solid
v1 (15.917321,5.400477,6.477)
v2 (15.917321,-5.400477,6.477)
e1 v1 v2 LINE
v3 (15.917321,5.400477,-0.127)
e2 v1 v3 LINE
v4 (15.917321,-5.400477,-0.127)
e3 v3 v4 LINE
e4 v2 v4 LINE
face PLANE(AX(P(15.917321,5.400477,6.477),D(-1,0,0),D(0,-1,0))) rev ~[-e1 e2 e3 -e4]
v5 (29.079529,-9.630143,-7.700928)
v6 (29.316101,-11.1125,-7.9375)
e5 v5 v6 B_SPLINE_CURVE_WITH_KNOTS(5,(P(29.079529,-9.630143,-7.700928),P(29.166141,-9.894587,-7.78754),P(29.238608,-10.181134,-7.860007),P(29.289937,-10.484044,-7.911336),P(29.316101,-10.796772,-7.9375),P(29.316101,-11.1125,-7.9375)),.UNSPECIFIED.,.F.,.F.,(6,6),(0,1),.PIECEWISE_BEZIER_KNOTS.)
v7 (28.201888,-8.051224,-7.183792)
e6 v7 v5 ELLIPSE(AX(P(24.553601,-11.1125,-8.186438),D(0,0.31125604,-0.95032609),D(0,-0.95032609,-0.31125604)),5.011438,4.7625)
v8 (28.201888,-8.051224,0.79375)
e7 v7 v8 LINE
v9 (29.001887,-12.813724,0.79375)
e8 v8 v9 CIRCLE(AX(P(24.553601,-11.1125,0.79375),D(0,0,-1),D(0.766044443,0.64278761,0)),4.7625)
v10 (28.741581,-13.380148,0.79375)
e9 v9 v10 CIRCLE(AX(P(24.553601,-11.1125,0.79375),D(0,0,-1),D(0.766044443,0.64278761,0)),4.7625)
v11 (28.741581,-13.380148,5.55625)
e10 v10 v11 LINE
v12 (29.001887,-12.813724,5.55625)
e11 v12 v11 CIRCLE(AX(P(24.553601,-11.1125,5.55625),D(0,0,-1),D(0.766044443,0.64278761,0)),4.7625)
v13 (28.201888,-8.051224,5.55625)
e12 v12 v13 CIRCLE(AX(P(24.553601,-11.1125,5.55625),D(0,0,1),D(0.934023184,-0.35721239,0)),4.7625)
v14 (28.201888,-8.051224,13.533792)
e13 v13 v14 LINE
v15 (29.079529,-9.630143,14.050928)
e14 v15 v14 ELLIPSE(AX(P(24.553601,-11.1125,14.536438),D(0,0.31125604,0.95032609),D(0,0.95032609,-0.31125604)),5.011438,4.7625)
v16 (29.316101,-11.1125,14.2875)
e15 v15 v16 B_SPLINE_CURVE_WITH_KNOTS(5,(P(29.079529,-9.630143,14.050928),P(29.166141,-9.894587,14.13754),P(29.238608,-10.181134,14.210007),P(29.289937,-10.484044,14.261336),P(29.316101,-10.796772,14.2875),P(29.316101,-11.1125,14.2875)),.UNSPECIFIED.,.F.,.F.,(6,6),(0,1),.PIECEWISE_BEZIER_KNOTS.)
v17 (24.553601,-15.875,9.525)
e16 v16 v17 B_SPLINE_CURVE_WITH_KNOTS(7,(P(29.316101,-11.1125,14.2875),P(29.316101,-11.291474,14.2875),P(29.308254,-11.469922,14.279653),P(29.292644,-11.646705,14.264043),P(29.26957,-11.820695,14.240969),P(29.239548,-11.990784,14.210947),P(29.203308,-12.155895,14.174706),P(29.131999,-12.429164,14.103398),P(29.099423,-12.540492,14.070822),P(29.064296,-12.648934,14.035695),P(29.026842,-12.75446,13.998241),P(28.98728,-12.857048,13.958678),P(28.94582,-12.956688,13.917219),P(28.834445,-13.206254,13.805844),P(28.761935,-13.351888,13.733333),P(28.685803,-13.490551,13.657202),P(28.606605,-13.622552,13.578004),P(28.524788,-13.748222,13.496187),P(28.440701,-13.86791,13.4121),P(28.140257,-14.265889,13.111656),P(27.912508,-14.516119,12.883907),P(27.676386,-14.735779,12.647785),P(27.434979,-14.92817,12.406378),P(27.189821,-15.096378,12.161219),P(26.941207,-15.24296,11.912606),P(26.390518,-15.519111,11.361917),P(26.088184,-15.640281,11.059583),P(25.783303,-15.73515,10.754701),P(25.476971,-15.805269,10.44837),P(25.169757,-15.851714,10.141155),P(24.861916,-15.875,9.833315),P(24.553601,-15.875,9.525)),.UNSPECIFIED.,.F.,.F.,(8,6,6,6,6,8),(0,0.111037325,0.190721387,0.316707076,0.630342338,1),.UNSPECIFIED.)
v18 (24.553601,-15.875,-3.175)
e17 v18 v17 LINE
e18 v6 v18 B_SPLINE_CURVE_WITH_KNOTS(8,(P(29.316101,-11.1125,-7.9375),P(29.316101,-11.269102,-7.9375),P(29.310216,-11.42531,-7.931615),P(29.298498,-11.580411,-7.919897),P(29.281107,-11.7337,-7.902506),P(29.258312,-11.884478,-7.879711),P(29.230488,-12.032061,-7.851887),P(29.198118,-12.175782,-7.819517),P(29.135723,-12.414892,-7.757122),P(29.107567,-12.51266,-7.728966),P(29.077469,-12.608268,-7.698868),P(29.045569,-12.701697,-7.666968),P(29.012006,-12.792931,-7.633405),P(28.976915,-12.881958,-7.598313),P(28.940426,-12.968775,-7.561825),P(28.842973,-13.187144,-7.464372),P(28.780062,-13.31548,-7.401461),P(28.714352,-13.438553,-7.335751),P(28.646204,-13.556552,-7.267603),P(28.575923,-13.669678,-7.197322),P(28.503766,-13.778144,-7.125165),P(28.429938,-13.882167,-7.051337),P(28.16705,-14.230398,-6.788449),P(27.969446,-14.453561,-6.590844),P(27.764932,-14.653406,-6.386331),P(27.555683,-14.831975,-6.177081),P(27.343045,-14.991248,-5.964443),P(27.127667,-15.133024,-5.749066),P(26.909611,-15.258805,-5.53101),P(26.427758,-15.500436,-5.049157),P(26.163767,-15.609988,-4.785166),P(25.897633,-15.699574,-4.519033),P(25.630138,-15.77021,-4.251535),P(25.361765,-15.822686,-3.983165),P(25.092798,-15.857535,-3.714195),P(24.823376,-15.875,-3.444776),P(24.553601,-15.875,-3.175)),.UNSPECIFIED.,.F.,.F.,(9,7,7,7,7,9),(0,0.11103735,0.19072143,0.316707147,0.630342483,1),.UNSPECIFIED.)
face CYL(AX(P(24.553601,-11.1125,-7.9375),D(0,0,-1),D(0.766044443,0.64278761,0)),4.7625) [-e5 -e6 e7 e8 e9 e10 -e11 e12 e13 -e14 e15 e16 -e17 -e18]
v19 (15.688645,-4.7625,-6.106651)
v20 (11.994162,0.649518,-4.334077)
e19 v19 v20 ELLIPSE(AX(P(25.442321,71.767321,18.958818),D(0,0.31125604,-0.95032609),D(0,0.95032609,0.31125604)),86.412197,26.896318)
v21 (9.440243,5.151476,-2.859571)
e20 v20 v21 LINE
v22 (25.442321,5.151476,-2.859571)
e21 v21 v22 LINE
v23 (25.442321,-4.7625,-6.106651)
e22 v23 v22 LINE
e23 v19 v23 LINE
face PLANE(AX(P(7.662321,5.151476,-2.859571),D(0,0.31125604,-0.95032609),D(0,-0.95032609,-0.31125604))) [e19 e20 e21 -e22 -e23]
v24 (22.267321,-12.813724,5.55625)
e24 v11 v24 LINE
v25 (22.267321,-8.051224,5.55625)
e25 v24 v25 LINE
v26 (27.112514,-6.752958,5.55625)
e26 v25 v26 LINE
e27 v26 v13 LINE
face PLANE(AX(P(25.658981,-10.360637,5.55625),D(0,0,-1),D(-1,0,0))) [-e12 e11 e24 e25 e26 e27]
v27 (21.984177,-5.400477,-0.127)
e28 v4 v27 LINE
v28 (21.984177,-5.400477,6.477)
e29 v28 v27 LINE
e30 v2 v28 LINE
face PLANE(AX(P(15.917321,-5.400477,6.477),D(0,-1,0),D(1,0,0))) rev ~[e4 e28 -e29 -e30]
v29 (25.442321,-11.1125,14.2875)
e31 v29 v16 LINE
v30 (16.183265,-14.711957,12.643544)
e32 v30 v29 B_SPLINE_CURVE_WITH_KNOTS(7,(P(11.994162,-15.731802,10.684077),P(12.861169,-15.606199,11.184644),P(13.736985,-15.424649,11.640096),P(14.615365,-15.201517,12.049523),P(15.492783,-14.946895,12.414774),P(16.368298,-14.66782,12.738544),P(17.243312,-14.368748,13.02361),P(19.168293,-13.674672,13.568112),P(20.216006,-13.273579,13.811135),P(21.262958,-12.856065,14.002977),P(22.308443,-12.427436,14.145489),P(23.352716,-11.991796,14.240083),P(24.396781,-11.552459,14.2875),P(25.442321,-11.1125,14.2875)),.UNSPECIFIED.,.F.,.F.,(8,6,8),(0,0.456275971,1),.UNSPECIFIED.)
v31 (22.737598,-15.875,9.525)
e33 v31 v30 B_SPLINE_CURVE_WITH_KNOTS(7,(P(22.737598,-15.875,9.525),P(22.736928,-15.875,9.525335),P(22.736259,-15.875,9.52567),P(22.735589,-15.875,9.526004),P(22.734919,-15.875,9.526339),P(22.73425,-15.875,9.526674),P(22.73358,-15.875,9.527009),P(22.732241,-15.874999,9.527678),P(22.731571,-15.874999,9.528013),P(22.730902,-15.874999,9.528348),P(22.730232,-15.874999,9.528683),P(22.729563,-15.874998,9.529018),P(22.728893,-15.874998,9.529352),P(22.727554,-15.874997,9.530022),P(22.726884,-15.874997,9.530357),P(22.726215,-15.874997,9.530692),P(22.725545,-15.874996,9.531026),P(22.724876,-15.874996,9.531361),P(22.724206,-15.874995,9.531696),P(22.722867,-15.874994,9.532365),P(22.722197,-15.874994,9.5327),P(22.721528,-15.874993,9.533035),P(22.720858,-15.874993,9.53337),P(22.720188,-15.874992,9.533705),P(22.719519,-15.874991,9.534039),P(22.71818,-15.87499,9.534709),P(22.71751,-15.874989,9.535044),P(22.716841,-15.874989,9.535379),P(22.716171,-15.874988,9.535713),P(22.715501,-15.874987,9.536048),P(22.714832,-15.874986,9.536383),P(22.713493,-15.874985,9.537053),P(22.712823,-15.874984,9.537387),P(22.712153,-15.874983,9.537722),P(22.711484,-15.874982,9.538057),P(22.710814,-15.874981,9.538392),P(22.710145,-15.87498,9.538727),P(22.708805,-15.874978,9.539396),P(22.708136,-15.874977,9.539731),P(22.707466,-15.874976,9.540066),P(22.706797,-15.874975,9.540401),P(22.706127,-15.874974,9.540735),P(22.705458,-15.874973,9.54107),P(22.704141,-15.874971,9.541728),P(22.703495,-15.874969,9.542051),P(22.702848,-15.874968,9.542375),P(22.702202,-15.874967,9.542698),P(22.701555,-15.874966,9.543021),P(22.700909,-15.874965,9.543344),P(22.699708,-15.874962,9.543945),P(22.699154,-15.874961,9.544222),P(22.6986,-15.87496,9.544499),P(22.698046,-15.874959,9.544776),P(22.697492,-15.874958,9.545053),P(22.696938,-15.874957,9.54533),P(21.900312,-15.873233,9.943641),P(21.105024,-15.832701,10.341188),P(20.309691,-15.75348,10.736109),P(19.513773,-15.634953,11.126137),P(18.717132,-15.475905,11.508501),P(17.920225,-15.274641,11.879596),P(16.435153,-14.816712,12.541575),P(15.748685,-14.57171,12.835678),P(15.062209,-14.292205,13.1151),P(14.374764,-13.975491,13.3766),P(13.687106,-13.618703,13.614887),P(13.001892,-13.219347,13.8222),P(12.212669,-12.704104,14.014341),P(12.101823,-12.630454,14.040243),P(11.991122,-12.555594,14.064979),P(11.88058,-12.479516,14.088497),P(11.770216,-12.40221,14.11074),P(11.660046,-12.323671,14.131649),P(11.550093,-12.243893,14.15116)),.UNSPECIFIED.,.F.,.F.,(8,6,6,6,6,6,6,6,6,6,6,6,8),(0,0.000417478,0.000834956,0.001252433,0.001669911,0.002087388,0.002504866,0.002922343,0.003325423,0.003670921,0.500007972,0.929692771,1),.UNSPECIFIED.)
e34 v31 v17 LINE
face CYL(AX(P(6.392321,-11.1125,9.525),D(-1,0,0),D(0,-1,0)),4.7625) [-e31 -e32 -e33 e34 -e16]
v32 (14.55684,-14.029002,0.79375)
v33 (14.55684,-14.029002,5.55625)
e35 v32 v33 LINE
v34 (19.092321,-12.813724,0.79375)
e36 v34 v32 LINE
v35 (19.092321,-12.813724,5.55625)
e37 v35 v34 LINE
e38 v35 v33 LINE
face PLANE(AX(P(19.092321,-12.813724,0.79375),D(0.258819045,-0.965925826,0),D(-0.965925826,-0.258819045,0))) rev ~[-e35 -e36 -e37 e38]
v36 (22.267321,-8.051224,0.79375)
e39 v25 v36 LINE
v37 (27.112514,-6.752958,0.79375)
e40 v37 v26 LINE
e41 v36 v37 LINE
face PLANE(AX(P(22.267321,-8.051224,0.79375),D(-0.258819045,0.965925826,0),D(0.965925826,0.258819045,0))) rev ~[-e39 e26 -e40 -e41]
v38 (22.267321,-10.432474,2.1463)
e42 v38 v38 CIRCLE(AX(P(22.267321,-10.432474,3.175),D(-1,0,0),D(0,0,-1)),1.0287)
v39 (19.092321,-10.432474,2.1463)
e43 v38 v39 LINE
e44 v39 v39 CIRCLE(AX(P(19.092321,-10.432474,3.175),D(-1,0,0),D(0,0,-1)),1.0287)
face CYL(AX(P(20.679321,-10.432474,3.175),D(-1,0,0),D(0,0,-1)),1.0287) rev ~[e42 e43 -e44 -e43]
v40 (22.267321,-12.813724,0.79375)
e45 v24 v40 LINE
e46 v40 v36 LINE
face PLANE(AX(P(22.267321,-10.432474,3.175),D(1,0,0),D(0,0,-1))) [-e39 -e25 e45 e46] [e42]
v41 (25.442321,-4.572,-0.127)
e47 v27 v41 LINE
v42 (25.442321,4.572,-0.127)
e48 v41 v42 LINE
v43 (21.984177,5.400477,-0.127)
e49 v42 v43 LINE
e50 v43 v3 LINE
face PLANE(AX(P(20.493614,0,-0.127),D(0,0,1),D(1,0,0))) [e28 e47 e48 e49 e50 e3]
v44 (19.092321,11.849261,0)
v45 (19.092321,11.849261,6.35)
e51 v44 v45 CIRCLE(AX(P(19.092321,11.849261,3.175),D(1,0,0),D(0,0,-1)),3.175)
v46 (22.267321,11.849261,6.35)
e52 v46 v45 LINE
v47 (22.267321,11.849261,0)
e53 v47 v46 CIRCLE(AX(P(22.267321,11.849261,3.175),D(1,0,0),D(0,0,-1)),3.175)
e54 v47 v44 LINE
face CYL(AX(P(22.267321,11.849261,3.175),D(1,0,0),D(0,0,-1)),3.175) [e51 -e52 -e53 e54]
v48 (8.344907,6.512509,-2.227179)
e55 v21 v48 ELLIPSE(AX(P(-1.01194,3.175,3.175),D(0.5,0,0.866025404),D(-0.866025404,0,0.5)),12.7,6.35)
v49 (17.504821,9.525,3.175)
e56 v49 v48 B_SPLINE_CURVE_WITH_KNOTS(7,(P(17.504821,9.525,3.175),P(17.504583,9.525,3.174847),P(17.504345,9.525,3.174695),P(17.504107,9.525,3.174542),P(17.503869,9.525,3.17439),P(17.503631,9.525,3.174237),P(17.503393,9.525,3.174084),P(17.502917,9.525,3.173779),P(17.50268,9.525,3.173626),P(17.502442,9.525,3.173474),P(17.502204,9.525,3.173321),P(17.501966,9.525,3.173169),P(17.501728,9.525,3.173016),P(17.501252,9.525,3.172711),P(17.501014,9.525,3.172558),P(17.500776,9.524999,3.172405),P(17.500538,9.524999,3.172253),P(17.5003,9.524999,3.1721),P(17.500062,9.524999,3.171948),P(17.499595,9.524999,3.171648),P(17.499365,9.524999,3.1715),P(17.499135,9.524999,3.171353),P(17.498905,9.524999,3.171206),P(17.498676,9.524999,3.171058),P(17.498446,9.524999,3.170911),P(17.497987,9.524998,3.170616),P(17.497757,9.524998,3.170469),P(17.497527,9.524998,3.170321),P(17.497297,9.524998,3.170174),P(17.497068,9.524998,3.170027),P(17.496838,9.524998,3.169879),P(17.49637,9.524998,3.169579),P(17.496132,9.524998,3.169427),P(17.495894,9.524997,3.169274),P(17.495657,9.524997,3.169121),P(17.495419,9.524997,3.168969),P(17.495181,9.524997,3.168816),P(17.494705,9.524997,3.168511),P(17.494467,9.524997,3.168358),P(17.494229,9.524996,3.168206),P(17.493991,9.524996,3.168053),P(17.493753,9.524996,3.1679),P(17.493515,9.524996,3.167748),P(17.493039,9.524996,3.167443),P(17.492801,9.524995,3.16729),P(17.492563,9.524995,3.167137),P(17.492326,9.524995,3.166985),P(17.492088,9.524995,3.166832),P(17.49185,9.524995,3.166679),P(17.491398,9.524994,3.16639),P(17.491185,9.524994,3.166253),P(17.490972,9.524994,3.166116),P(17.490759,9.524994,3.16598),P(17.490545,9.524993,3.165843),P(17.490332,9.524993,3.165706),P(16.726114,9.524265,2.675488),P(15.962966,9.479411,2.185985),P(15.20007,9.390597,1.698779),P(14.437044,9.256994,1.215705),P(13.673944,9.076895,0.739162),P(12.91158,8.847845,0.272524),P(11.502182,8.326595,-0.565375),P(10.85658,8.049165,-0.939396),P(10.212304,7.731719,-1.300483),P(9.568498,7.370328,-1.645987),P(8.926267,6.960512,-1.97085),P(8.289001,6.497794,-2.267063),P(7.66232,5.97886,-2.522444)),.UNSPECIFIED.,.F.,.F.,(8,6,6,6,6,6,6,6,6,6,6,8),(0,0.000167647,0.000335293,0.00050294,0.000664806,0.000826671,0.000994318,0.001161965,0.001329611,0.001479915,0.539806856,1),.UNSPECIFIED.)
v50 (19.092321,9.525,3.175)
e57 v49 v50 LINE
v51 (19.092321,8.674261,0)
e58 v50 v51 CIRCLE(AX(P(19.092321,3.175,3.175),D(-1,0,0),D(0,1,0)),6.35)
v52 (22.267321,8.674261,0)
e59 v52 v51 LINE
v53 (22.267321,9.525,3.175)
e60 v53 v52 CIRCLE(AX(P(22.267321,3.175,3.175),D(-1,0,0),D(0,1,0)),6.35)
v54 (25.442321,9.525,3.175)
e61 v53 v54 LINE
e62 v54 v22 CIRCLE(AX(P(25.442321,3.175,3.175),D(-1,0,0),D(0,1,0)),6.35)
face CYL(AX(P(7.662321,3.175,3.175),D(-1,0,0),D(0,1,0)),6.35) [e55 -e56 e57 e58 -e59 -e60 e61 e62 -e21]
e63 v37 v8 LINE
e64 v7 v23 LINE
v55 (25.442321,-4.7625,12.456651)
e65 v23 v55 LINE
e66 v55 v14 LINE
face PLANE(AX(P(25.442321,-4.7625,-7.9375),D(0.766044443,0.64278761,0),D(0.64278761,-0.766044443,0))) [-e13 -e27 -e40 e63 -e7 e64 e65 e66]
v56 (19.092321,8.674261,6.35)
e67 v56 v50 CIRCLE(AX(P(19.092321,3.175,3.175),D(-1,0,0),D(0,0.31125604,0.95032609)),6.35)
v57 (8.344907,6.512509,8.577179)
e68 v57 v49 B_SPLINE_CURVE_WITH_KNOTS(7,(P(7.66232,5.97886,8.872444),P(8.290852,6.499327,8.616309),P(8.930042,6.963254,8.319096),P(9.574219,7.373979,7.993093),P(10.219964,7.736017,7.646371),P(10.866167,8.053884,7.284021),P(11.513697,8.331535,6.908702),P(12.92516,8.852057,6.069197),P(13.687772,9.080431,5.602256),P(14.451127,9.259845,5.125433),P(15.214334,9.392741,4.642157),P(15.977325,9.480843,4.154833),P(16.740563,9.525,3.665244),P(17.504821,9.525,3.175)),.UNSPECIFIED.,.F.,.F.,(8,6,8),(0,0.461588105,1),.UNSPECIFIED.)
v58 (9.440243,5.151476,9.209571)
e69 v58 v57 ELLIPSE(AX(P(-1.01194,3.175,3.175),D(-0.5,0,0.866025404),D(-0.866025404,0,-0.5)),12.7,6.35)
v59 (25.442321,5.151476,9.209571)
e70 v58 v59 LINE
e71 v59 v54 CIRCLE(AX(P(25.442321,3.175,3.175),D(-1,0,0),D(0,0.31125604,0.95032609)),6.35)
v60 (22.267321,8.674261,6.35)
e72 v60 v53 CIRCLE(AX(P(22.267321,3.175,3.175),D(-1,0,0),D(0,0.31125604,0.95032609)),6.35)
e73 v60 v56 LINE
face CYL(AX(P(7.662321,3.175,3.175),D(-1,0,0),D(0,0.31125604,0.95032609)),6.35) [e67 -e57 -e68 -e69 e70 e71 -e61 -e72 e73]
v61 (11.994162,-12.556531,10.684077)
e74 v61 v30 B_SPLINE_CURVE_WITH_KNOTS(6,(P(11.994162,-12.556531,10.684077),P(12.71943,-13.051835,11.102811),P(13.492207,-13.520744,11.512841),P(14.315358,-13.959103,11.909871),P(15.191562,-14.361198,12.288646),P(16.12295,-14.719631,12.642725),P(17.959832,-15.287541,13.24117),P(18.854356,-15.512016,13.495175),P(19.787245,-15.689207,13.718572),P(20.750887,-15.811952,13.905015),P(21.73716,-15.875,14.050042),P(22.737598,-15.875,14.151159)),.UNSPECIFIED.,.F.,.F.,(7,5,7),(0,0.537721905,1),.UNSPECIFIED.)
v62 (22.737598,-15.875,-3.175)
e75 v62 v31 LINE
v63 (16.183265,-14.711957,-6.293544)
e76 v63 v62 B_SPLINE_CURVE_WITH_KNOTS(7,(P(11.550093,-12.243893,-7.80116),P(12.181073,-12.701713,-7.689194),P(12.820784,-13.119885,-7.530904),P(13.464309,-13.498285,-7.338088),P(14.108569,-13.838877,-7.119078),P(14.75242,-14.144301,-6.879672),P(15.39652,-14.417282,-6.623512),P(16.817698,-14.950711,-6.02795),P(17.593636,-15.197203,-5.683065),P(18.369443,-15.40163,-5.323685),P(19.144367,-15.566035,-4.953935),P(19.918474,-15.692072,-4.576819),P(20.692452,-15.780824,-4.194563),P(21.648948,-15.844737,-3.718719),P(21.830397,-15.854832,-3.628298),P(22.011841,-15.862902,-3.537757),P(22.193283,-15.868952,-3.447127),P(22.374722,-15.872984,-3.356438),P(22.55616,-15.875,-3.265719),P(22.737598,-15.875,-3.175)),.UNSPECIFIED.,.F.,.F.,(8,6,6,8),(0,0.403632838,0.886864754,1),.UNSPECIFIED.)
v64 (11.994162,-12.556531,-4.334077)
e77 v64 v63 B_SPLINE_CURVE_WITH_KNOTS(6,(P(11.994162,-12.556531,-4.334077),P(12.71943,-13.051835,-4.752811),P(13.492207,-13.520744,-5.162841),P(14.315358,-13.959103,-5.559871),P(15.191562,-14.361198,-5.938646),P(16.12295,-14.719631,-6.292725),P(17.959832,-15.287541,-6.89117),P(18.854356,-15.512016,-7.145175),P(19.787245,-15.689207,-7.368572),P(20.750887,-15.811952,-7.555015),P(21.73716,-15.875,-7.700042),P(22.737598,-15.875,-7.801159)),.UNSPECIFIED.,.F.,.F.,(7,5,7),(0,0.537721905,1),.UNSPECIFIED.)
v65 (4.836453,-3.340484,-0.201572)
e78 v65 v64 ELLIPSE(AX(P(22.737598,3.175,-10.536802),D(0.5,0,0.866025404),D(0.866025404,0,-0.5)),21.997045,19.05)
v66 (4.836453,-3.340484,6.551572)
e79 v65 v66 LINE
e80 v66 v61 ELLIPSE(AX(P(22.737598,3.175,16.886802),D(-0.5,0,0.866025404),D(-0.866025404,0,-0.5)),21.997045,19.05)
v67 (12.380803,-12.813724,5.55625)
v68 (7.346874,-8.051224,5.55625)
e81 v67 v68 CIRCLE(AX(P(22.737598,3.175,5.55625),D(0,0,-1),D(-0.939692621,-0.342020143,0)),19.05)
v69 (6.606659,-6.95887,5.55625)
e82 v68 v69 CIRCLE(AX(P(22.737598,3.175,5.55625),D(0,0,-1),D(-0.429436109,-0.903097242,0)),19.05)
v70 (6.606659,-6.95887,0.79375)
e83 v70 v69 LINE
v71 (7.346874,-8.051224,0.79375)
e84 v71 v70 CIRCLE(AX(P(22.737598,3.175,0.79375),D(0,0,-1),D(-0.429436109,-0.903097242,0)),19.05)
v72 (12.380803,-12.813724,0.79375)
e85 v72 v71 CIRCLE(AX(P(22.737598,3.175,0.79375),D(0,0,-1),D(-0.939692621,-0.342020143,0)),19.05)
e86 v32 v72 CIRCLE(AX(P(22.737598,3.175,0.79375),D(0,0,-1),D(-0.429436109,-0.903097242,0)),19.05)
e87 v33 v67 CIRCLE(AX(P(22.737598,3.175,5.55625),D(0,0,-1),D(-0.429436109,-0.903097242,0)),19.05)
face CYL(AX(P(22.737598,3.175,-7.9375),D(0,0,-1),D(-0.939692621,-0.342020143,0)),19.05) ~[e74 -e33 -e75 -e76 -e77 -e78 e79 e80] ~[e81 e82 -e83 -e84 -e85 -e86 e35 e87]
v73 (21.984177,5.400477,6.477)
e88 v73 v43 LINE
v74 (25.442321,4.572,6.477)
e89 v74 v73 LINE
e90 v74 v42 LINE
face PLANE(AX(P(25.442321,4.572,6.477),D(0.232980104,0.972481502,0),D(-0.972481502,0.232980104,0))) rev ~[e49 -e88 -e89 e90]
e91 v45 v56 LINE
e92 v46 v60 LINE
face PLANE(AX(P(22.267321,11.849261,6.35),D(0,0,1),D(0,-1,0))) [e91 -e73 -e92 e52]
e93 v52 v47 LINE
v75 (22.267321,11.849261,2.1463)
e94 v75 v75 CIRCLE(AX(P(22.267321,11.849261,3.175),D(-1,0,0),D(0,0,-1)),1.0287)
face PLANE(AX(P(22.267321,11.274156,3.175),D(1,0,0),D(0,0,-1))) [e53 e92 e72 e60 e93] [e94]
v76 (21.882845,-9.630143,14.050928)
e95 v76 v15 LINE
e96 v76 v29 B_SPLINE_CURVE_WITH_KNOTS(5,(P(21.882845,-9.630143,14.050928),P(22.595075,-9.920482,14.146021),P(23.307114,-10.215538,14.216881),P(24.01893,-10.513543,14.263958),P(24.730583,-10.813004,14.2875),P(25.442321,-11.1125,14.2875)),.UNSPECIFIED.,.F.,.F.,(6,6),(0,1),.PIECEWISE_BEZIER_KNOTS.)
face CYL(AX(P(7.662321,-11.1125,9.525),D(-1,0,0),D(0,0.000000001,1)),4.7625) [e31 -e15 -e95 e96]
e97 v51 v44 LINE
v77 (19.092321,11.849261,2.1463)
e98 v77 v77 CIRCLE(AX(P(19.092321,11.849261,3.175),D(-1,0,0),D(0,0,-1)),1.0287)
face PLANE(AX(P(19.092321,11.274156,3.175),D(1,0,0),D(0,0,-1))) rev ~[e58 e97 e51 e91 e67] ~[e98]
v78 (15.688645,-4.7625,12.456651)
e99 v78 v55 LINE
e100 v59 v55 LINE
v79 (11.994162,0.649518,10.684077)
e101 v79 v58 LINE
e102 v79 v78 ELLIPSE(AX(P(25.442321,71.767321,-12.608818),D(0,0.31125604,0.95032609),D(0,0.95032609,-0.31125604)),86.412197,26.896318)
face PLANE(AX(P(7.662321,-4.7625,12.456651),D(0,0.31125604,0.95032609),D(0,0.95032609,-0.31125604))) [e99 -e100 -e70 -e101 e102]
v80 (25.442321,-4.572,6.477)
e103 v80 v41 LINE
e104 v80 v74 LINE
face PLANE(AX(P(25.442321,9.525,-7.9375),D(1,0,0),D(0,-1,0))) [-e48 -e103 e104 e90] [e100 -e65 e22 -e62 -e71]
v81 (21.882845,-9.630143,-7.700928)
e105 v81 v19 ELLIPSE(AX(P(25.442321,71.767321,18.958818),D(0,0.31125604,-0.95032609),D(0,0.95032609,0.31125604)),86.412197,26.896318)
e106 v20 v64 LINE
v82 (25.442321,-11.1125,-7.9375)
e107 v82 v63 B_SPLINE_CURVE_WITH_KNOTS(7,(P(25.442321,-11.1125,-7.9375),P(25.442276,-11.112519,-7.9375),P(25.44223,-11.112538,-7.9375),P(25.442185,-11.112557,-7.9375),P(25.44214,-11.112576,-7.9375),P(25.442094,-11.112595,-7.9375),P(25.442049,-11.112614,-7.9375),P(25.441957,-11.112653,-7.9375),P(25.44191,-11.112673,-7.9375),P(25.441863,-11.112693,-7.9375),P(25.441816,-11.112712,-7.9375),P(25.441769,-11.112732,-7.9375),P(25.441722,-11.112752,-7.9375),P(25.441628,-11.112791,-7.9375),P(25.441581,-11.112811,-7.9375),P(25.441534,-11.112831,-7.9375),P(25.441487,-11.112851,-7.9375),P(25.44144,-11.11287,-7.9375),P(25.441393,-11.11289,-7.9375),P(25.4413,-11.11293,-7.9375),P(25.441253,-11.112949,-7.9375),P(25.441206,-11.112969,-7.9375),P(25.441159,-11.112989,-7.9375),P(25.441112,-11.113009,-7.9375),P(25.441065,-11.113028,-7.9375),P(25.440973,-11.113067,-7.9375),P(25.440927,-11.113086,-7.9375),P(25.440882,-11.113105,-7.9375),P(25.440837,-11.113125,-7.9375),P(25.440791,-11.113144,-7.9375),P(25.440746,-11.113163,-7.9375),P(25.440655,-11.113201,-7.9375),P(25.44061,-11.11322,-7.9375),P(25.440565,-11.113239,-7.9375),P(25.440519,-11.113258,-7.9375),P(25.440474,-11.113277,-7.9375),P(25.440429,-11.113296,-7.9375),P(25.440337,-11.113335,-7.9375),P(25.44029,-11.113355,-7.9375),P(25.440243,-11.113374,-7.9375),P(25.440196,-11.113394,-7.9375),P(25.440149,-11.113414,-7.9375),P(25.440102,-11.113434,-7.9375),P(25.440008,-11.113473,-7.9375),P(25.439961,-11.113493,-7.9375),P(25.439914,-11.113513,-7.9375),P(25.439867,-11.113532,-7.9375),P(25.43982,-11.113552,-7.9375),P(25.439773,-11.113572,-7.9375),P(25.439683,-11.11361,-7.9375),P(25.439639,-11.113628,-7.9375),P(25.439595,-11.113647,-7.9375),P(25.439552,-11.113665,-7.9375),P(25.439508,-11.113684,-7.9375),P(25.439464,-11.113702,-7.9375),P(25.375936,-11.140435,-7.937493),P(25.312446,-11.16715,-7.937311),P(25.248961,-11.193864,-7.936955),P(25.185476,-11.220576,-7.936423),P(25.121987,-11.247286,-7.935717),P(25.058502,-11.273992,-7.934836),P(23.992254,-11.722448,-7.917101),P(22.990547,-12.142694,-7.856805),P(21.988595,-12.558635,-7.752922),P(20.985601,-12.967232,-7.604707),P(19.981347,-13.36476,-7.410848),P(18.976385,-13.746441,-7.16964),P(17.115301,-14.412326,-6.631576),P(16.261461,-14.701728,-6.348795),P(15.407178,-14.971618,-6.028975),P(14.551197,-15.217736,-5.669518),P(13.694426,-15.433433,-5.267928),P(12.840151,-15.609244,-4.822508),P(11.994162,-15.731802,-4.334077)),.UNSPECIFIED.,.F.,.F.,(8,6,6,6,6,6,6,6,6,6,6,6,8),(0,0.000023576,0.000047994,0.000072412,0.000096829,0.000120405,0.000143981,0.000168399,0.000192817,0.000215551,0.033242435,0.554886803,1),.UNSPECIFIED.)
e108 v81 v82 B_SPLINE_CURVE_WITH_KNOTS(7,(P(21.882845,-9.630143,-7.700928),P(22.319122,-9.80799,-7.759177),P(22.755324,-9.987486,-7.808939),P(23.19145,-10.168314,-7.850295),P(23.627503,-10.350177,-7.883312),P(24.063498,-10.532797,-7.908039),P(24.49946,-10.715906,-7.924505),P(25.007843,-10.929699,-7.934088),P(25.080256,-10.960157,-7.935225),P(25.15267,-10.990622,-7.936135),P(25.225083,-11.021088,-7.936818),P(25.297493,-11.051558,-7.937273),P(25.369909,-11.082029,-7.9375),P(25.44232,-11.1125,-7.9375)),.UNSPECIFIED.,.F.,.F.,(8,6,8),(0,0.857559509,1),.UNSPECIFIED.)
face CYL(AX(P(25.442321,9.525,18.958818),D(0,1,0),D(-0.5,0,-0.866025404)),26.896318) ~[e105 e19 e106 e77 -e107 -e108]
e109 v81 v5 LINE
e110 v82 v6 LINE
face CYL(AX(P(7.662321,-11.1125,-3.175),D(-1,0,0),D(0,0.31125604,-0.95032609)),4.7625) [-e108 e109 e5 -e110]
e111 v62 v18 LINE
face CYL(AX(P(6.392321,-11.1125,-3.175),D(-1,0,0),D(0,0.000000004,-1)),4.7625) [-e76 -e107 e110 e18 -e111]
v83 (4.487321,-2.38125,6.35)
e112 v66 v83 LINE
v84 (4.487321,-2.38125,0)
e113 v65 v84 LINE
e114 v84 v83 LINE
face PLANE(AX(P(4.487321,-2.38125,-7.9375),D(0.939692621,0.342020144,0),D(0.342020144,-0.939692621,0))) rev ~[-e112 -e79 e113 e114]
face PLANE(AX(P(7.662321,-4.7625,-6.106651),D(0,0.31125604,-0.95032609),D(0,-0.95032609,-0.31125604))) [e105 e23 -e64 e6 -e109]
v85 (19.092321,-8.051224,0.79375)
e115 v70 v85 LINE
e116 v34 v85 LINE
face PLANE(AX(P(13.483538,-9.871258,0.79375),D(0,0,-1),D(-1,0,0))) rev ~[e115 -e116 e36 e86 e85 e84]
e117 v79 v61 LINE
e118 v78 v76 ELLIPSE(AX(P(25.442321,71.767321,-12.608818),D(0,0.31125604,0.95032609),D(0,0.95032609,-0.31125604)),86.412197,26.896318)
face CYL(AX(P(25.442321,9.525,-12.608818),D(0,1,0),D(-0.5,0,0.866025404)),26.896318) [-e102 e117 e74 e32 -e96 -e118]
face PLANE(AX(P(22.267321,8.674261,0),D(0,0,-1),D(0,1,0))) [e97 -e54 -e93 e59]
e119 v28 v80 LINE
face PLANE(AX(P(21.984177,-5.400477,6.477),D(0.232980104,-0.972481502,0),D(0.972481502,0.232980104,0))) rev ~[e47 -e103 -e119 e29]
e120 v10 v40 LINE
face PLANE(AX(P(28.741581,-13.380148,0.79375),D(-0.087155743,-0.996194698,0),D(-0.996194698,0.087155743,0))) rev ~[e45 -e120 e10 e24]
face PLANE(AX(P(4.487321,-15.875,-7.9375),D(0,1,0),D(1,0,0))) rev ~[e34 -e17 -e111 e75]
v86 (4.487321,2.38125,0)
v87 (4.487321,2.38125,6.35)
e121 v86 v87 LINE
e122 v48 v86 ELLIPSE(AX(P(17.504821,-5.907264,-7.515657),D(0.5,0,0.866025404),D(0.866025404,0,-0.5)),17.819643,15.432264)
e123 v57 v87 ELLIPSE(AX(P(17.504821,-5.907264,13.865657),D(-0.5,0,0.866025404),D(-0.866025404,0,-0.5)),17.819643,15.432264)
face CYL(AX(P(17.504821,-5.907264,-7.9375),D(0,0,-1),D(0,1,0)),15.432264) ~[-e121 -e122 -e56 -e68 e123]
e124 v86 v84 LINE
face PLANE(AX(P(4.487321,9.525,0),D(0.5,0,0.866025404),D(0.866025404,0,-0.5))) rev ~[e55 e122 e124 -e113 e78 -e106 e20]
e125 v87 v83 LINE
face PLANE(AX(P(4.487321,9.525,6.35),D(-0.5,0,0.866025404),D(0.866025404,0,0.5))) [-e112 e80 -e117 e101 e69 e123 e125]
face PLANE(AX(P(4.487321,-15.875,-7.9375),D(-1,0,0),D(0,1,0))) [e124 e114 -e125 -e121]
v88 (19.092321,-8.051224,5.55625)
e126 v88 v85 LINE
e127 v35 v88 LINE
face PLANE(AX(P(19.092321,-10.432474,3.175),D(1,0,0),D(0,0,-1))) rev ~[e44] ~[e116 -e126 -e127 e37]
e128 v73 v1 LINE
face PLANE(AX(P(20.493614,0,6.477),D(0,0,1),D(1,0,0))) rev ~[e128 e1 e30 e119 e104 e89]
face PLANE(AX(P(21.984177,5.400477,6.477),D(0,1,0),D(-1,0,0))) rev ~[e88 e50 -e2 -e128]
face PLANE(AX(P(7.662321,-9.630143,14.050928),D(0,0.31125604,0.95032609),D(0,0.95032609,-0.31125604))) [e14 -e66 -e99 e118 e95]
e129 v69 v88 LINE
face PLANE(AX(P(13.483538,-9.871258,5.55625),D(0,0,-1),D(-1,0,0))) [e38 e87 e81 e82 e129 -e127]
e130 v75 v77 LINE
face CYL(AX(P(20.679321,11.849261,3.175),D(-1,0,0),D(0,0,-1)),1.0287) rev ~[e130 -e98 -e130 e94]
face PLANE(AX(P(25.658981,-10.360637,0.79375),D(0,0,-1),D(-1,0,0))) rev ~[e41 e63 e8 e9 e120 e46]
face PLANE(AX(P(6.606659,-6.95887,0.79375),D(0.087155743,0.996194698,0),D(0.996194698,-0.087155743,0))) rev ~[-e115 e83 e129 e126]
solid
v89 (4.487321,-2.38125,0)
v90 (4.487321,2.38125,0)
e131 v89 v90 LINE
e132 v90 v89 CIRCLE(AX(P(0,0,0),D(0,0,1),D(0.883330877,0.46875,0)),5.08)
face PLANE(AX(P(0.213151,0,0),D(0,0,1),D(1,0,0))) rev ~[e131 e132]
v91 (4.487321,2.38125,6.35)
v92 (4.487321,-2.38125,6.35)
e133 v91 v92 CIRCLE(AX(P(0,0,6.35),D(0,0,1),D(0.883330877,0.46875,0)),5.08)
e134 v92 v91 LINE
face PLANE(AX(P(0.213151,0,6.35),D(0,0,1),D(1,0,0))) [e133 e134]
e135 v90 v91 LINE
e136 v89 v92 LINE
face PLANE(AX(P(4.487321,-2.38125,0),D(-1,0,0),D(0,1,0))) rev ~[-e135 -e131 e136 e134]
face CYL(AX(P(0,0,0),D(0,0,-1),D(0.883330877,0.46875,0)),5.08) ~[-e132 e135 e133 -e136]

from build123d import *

# Parameters (mm, degrees)
BOSS_EXTRUDE1_DEPTH      = 6.35
BOSS_EXTRUDE2_START      = -7.9375
BOSS_EXTRUDE2_DEPTH      = 22.225
CUT_EXTRUDE1_DEPTH       = 46.365450693
CUT_EXTRUDE2_START       = -7.9375
CUT_EXTRUDE2_DEPTH       = 25.24
CUT_EXTRUDE7_DEPTH       = 10
CUT_EXTRUDE7_DEPTH_BACK  = 19.05
CUT_EXTRUDE10_DEPTH      = 10.16
CUT_EXTRUDE10_DEPTH_BACK = 17.78
CUT_EXTRUDE8_START       = 0.127
CUT_EXTRUDE8_DEPTH       = 6.604
BOSS_EXTRUDE3_START      = -3.175
BOSS_EXTRUDE3_DEPTH      = 3.175
SKETCH14_W               = 1.0287
SKETCH14_H               = 3.176
SKETCH15_W               = 4.7625
SKETCH15_H               = 4.7625
CUT_EXTRUDE15_DEPTH      = 7.048780443
CUT_EXTRUDE16_START      = -3.175
SKETCH16_W               = 4.7625
SKETCH16_H               = 4.7625
CUT_EXTRUDE16_DEPTH      = 32.52405251
SKETCH18_W               = 1.0287
SKETCH18_H               = 3.176
CUT_EXTRUDE17_DEPTH      = 4.7625


with BuildPart() as part:
    # Sketch2 → Boss-Extrude1 (new body)
    with BuildSketch(Plane.XY):
        with BuildLine():
            Line((4.487320853, -2.38125), (4.487320853, 2.38125))
            ThreePointArc((4.487320853, 2.38125), (-5.08, 0), (4.487320853, -2.38125))
        make_face()
    extrude(amount=BOSS_EXTRUDE1_DEPTH)


with BuildPart() as body_2:
    # Sketch3 → Boss-Extrude2 (new body)
    with BuildSketch(Plane.XY.offset(BOSS_EXTRUDE2_START)):
        Polygon((4.487320853, 9.525), (25.442320853, 9.525), (25.442320853, -4.7625), (34.766815504, -15.875), (25.442320853, -15.875), (4.487320853, -15.875), align=None)
    extrude(amount=BOSS_EXTRUDE2_DEPTH)

    # Sketch4 → Cut-Extrude1 (cut, through all)
    with BuildSketch(Plane(origin=(0, 9.525, 0), x_dir=(1, 0, 0), z_dir=(0, 1, 0))):
        with BuildLine():
            Line((4.487320853, -6.35), (11.994161802, -10.684076643))
            ThreePointArc((11.994161802, -10.684076643), (18.481041485, -13.371030185), (25.442320853, -14.2875))
            Line((25.442320853, -14.2875), (4.487320853, -14.2875))
            Line((4.487320853, -14.2875), (4.487320853, -6.35))
        make_face()
        with BuildLine():
            Line((4.487320853, 0), (11.994161802, 4.334076643))
            ThreePointArc((11.994161802, 4.334076643), (18.481041485, 7.021030185), (25.442320853, 7.9375))
            Line((25.442320853, 7.9375), (4.487320853, 7.9375))
            Line((4.487320853, 7.9375), (4.487320853, 0))
        make_face()
    extrude(amount=-CUT_EXTRUDE1_DEPTH, mode=Mode.SUBTRACT)

    # Sketch5 → Cut-Extrude2 (cut)
    with BuildSketch(Plane.XY.offset(CUT_EXTRUDE2_START)):
        with BuildLine():
            Line((4.487320853, -15.875), (4.487320853, -2.38125))
            Line((4.487320853, -2.38125), (4.836453379, -3.34048373))
            ThreePointArc((4.836453379, -3.34048373), (11.810966692, -12.429846444), (22.737597804, -15.875))
            Line((22.737597804, -15.875), (4.487320853, -15.875))
        make_face()
        with BuildLine():
            Line((4.487320853, 2.38125), (4.487320853, 9.525))
            Line((4.487320853, 9.525), (17.504820853, 9.525))
            ThreePointArc((17.504820853, 9.525), (10.080393765, 7.621692137), (4.487320853, 2.38125))
        make_face()
        with BuildLine():
            Line((24.553601296, -15.875), (34.766815504, -15.875))
            Line((34.766815504, -15.875), (28.201887956, -8.051224009))
            ThreePointArc((28.201887956, -8.051224009), (28.869892131, -13.125219472), (24.553601296, -15.875))
        make_face()
    extrude(amount=CUT_EXTRUDE2_DEPTH, mode=Mode.SUBTRACT)

    # Sketch7 → Cut-Extrude7 (cut, two sides: drawn at the far end of the back side and taken through both)
    with BuildSketch(Plane(origin=(25.442320853, 0, 0), x_dir=(0, 0, -1), z_dir=(1, 0, 0)).offset(-CUT_EXTRUDE7_DEPTH_BACK)):
        with BuildLine():
            ThreePointArc((-9.525, -15.875), (-12.892596049, -14.480096041), (-14.2875, -11.112499989))
            Line((-14.2875, -11.112499989), (-14.2875, -15.875))
            Line((-14.2875, -15.875), (-9.525, -15.875))
        make_face()
        with BuildLine():
            ThreePointArc((7.9375, -11.112499982), (6.542596052, -14.480096039), (3.175, -15.875))
            Line((3.175, -15.875), (7.9375, -15.875))
            Line((7.9375, -15.875), (7.9375, -11.112499982))
        make_face()
    extrude(amount=CUT_EXTRUDE7_DEPTH + CUT_EXTRUDE7_DEPTH_BACK, mode=Mode.SUBTRACT)

    # Sketch7<4> → Cut-Extrude10 (cut, two sides: drawn at the far end of the back side and taken through both)
    with BuildSketch(Plane(origin=(25.442320853, 0, 0), x_dir=(0, 0, -1), z_dir=(1, 0, 0)).offset(-CUT_EXTRUDE10_DEPTH_BACK)):
        with BuildLine():
            ThreePointArc((-9.209570672, 5.151475854), (-6.901384194, 8.316649622), (-3.175, 9.525))
            Line((-3.175, 9.525), (-14.2875, 9.525))
            Line((-14.2875, 9.525), (-14.2875, -4.7625))
            Line((-14.2875, -4.7625), (-12.456650698, -4.7625))
            Line((-12.456650698, -4.7625), (-9.209570672, 5.151475854))
        make_face()
        with BuildLine():
            Line((6.106650698, -4.7625), (7.9375, -4.7625))
            Line((7.9375, -4.7625), (7.9375, 9.525))
            Line((7.9375, 9.525), (-3.175, 9.525))
            ThreePointArc((-3.175, 9.525), (0.551384194, 8.316649622), (2.859570672, 5.151475854))
            Line((2.859570672, 5.151475854), (6.106650698, -4.7625))
        make_face()
        with BuildLine():
            ThreePointArc((7.700928004, -9.630143109), (7.877985134, -10.361942155), (7.9375, -11.112499982))
            Line((7.9375, -11.112499982), (7.9375, -4.7625))
            Line((7.9375, -4.7625), (6.106650698, -4.7625))
            Line((6.106650698, -4.7625), (7.700928004, -9.630143109))
        make_face()
        with BuildLine():
            Line((-14.050928004, -9.630143109), (-12.456650698, -4.7625))
            Line((-12.456650698, -4.7625), (-14.2875, -4.7625))
            Line((-14.2875, -4.7625), (-14.2875, -11.112499989))
            ThreePointArc((-14.2875, -11.112499989), (-14.227985135, -10.361942158), (-14.050928004, -9.630143109))
        make_face()
    extrude(amount=CUT_EXTRUDE10_DEPTH + CUT_EXTRUDE10_DEPTH_BACK, mode=Mode.SUBTRACT)

    # Sketch8 → Cut-Extrude8 (cut)
    with BuildSketch(Plane.XY.offset(6.35).offset(CUT_EXTRUDE8_START)):
        Polygon((25.442320853, -4.572), (25.442320853, 4.572), (21.984176633, 5.400477249), (15.917320853, 5.400477249), (15.917320853, -5.400477249), (21.984176633, -5.400477249), align=None)
    extrude(amount=-CUT_EXTRUDE8_DEPTH, mode=Mode.SUBTRACT)

    # Sketch12 → Boss-Extrude3 (add)
    with BuildSketch(Plane(origin=(25.442320853, 0, 0), x_dir=(0, 0, -1), z_dir=(1, 0, 0)).offset(BOSS_EXTRUDE3_START)):
        with BuildLine():
            Line((-6.35, 8.674261314), (0, 8.674261314))
            Line((0, 8.674261314), (0, 11.849261314))
            ThreePointArc((0, 11.849261314), (-3.175, 15.024261314), (-6.35, 11.849261314))
            Line((-6.35, 11.849261314), (-6.35, 8.674261314))
        make_face()
    extrude(amount=-BOSS_EXTRUDE3_DEPTH)

    # Sketch14 → #1 Clearance Hole1 (revolve, cut)
    with BuildSketch(Plane(origin=(22.267320853, 11.849261314, 3.175), x_dir=(0, 0, -1), z_dir=(0, 1, 0))):
        with Locations((0.51435, 1.588)):
            Rectangle(SKETCH14_W, SKETCH14_H)
    revolve(axis=Axis((28.617320853, 11.849261314, 3.175), (-1, 0, 0)), mode=Mode.SUBTRACT)

    # Sketch15 → Cut-Extrude15 (cut)
    with BuildSketch(Plane(origin=(29.316101296, 0, 0), x_dir=(0, 0, -1), z_dir=(1, 0, 0))):
        with Locations((-3.175, -10.432474009)):
            Rectangle(SKETCH15_W, SKETCH15_H)
    extrude(amount=-CUT_EXTRUDE15_DEPTH, mode=Mode.SUBTRACT)

    # Sketch16 → Cut-Extrude16 (cut, through all)
    with BuildSketch(Plane(origin=(22.267320853, 0, 0), x_dir=(0, 0, -1), z_dir=(1, 0, 0)).offset(CUT_EXTRUDE16_START)):
        with Locations((-3.175, -10.432474009)):
            Rectangle(SKETCH16_W, SKETCH16_H)
    extrude(amount=-CUT_EXTRUDE16_DEPTH, mode=Mode.SUBTRACT)

    # Sketch18 → #1 Clearance Hole2 (revolve, cut)
    with BuildSketch(Plane(origin=(22.267320853, -10.432474009, 3.175), x_dir=(0, 0, -1), z_dir=(0, 1, 0))):
        with Locations((0.51435, 1.588)):
            Rectangle(SKETCH18_W, SKETCH18_H)
    revolve(axis=Axis((28.617320853, -10.432474009, 3.175), (-1, 0, 0)), mode=Mode.SUBTRACT)

    # Sketch19 → Cut-Extrude17 (cut)
    with BuildSketch(Plane.XY.offset(0.79375)):
        with BuildLine():
            Line((19.092320853, -12.813724009), (14.556839931, -14.029002459))
            ThreePointArc((14.556839931, -14.029002459), (10.078161119, -11.060208562), (6.606659352, -6.958870171))
            Line((6.606659352, -6.958870171), (19.092320853, -8.051224009))
            Line((19.092320853, -8.051224009), (19.092320853, -12.813724009))
        make_face()
        with BuildLine():
            Line((22.267320853, -8.051224009), (27.112513818, -6.752958467))
            Line((27.112513818, -6.752958467), (28.201887956, -8.051224009))
            ThreePointArc((28.201887956, -8.051224009), (29.291863406, -10.632626656), (28.741581352, -13.380148407))
            Line((28.741581352, -13.380148407), (22.267320853, -12.813724009))
            Line((22.267320853, -12.813724009), (22.267320853, -8.051224009))
        make_face()
    extrude(amount=CUT_EXTRUDE17_DEPTH, mode=Mode.SUBTRACT)


solid = Compound([part.part, body_2.part])
